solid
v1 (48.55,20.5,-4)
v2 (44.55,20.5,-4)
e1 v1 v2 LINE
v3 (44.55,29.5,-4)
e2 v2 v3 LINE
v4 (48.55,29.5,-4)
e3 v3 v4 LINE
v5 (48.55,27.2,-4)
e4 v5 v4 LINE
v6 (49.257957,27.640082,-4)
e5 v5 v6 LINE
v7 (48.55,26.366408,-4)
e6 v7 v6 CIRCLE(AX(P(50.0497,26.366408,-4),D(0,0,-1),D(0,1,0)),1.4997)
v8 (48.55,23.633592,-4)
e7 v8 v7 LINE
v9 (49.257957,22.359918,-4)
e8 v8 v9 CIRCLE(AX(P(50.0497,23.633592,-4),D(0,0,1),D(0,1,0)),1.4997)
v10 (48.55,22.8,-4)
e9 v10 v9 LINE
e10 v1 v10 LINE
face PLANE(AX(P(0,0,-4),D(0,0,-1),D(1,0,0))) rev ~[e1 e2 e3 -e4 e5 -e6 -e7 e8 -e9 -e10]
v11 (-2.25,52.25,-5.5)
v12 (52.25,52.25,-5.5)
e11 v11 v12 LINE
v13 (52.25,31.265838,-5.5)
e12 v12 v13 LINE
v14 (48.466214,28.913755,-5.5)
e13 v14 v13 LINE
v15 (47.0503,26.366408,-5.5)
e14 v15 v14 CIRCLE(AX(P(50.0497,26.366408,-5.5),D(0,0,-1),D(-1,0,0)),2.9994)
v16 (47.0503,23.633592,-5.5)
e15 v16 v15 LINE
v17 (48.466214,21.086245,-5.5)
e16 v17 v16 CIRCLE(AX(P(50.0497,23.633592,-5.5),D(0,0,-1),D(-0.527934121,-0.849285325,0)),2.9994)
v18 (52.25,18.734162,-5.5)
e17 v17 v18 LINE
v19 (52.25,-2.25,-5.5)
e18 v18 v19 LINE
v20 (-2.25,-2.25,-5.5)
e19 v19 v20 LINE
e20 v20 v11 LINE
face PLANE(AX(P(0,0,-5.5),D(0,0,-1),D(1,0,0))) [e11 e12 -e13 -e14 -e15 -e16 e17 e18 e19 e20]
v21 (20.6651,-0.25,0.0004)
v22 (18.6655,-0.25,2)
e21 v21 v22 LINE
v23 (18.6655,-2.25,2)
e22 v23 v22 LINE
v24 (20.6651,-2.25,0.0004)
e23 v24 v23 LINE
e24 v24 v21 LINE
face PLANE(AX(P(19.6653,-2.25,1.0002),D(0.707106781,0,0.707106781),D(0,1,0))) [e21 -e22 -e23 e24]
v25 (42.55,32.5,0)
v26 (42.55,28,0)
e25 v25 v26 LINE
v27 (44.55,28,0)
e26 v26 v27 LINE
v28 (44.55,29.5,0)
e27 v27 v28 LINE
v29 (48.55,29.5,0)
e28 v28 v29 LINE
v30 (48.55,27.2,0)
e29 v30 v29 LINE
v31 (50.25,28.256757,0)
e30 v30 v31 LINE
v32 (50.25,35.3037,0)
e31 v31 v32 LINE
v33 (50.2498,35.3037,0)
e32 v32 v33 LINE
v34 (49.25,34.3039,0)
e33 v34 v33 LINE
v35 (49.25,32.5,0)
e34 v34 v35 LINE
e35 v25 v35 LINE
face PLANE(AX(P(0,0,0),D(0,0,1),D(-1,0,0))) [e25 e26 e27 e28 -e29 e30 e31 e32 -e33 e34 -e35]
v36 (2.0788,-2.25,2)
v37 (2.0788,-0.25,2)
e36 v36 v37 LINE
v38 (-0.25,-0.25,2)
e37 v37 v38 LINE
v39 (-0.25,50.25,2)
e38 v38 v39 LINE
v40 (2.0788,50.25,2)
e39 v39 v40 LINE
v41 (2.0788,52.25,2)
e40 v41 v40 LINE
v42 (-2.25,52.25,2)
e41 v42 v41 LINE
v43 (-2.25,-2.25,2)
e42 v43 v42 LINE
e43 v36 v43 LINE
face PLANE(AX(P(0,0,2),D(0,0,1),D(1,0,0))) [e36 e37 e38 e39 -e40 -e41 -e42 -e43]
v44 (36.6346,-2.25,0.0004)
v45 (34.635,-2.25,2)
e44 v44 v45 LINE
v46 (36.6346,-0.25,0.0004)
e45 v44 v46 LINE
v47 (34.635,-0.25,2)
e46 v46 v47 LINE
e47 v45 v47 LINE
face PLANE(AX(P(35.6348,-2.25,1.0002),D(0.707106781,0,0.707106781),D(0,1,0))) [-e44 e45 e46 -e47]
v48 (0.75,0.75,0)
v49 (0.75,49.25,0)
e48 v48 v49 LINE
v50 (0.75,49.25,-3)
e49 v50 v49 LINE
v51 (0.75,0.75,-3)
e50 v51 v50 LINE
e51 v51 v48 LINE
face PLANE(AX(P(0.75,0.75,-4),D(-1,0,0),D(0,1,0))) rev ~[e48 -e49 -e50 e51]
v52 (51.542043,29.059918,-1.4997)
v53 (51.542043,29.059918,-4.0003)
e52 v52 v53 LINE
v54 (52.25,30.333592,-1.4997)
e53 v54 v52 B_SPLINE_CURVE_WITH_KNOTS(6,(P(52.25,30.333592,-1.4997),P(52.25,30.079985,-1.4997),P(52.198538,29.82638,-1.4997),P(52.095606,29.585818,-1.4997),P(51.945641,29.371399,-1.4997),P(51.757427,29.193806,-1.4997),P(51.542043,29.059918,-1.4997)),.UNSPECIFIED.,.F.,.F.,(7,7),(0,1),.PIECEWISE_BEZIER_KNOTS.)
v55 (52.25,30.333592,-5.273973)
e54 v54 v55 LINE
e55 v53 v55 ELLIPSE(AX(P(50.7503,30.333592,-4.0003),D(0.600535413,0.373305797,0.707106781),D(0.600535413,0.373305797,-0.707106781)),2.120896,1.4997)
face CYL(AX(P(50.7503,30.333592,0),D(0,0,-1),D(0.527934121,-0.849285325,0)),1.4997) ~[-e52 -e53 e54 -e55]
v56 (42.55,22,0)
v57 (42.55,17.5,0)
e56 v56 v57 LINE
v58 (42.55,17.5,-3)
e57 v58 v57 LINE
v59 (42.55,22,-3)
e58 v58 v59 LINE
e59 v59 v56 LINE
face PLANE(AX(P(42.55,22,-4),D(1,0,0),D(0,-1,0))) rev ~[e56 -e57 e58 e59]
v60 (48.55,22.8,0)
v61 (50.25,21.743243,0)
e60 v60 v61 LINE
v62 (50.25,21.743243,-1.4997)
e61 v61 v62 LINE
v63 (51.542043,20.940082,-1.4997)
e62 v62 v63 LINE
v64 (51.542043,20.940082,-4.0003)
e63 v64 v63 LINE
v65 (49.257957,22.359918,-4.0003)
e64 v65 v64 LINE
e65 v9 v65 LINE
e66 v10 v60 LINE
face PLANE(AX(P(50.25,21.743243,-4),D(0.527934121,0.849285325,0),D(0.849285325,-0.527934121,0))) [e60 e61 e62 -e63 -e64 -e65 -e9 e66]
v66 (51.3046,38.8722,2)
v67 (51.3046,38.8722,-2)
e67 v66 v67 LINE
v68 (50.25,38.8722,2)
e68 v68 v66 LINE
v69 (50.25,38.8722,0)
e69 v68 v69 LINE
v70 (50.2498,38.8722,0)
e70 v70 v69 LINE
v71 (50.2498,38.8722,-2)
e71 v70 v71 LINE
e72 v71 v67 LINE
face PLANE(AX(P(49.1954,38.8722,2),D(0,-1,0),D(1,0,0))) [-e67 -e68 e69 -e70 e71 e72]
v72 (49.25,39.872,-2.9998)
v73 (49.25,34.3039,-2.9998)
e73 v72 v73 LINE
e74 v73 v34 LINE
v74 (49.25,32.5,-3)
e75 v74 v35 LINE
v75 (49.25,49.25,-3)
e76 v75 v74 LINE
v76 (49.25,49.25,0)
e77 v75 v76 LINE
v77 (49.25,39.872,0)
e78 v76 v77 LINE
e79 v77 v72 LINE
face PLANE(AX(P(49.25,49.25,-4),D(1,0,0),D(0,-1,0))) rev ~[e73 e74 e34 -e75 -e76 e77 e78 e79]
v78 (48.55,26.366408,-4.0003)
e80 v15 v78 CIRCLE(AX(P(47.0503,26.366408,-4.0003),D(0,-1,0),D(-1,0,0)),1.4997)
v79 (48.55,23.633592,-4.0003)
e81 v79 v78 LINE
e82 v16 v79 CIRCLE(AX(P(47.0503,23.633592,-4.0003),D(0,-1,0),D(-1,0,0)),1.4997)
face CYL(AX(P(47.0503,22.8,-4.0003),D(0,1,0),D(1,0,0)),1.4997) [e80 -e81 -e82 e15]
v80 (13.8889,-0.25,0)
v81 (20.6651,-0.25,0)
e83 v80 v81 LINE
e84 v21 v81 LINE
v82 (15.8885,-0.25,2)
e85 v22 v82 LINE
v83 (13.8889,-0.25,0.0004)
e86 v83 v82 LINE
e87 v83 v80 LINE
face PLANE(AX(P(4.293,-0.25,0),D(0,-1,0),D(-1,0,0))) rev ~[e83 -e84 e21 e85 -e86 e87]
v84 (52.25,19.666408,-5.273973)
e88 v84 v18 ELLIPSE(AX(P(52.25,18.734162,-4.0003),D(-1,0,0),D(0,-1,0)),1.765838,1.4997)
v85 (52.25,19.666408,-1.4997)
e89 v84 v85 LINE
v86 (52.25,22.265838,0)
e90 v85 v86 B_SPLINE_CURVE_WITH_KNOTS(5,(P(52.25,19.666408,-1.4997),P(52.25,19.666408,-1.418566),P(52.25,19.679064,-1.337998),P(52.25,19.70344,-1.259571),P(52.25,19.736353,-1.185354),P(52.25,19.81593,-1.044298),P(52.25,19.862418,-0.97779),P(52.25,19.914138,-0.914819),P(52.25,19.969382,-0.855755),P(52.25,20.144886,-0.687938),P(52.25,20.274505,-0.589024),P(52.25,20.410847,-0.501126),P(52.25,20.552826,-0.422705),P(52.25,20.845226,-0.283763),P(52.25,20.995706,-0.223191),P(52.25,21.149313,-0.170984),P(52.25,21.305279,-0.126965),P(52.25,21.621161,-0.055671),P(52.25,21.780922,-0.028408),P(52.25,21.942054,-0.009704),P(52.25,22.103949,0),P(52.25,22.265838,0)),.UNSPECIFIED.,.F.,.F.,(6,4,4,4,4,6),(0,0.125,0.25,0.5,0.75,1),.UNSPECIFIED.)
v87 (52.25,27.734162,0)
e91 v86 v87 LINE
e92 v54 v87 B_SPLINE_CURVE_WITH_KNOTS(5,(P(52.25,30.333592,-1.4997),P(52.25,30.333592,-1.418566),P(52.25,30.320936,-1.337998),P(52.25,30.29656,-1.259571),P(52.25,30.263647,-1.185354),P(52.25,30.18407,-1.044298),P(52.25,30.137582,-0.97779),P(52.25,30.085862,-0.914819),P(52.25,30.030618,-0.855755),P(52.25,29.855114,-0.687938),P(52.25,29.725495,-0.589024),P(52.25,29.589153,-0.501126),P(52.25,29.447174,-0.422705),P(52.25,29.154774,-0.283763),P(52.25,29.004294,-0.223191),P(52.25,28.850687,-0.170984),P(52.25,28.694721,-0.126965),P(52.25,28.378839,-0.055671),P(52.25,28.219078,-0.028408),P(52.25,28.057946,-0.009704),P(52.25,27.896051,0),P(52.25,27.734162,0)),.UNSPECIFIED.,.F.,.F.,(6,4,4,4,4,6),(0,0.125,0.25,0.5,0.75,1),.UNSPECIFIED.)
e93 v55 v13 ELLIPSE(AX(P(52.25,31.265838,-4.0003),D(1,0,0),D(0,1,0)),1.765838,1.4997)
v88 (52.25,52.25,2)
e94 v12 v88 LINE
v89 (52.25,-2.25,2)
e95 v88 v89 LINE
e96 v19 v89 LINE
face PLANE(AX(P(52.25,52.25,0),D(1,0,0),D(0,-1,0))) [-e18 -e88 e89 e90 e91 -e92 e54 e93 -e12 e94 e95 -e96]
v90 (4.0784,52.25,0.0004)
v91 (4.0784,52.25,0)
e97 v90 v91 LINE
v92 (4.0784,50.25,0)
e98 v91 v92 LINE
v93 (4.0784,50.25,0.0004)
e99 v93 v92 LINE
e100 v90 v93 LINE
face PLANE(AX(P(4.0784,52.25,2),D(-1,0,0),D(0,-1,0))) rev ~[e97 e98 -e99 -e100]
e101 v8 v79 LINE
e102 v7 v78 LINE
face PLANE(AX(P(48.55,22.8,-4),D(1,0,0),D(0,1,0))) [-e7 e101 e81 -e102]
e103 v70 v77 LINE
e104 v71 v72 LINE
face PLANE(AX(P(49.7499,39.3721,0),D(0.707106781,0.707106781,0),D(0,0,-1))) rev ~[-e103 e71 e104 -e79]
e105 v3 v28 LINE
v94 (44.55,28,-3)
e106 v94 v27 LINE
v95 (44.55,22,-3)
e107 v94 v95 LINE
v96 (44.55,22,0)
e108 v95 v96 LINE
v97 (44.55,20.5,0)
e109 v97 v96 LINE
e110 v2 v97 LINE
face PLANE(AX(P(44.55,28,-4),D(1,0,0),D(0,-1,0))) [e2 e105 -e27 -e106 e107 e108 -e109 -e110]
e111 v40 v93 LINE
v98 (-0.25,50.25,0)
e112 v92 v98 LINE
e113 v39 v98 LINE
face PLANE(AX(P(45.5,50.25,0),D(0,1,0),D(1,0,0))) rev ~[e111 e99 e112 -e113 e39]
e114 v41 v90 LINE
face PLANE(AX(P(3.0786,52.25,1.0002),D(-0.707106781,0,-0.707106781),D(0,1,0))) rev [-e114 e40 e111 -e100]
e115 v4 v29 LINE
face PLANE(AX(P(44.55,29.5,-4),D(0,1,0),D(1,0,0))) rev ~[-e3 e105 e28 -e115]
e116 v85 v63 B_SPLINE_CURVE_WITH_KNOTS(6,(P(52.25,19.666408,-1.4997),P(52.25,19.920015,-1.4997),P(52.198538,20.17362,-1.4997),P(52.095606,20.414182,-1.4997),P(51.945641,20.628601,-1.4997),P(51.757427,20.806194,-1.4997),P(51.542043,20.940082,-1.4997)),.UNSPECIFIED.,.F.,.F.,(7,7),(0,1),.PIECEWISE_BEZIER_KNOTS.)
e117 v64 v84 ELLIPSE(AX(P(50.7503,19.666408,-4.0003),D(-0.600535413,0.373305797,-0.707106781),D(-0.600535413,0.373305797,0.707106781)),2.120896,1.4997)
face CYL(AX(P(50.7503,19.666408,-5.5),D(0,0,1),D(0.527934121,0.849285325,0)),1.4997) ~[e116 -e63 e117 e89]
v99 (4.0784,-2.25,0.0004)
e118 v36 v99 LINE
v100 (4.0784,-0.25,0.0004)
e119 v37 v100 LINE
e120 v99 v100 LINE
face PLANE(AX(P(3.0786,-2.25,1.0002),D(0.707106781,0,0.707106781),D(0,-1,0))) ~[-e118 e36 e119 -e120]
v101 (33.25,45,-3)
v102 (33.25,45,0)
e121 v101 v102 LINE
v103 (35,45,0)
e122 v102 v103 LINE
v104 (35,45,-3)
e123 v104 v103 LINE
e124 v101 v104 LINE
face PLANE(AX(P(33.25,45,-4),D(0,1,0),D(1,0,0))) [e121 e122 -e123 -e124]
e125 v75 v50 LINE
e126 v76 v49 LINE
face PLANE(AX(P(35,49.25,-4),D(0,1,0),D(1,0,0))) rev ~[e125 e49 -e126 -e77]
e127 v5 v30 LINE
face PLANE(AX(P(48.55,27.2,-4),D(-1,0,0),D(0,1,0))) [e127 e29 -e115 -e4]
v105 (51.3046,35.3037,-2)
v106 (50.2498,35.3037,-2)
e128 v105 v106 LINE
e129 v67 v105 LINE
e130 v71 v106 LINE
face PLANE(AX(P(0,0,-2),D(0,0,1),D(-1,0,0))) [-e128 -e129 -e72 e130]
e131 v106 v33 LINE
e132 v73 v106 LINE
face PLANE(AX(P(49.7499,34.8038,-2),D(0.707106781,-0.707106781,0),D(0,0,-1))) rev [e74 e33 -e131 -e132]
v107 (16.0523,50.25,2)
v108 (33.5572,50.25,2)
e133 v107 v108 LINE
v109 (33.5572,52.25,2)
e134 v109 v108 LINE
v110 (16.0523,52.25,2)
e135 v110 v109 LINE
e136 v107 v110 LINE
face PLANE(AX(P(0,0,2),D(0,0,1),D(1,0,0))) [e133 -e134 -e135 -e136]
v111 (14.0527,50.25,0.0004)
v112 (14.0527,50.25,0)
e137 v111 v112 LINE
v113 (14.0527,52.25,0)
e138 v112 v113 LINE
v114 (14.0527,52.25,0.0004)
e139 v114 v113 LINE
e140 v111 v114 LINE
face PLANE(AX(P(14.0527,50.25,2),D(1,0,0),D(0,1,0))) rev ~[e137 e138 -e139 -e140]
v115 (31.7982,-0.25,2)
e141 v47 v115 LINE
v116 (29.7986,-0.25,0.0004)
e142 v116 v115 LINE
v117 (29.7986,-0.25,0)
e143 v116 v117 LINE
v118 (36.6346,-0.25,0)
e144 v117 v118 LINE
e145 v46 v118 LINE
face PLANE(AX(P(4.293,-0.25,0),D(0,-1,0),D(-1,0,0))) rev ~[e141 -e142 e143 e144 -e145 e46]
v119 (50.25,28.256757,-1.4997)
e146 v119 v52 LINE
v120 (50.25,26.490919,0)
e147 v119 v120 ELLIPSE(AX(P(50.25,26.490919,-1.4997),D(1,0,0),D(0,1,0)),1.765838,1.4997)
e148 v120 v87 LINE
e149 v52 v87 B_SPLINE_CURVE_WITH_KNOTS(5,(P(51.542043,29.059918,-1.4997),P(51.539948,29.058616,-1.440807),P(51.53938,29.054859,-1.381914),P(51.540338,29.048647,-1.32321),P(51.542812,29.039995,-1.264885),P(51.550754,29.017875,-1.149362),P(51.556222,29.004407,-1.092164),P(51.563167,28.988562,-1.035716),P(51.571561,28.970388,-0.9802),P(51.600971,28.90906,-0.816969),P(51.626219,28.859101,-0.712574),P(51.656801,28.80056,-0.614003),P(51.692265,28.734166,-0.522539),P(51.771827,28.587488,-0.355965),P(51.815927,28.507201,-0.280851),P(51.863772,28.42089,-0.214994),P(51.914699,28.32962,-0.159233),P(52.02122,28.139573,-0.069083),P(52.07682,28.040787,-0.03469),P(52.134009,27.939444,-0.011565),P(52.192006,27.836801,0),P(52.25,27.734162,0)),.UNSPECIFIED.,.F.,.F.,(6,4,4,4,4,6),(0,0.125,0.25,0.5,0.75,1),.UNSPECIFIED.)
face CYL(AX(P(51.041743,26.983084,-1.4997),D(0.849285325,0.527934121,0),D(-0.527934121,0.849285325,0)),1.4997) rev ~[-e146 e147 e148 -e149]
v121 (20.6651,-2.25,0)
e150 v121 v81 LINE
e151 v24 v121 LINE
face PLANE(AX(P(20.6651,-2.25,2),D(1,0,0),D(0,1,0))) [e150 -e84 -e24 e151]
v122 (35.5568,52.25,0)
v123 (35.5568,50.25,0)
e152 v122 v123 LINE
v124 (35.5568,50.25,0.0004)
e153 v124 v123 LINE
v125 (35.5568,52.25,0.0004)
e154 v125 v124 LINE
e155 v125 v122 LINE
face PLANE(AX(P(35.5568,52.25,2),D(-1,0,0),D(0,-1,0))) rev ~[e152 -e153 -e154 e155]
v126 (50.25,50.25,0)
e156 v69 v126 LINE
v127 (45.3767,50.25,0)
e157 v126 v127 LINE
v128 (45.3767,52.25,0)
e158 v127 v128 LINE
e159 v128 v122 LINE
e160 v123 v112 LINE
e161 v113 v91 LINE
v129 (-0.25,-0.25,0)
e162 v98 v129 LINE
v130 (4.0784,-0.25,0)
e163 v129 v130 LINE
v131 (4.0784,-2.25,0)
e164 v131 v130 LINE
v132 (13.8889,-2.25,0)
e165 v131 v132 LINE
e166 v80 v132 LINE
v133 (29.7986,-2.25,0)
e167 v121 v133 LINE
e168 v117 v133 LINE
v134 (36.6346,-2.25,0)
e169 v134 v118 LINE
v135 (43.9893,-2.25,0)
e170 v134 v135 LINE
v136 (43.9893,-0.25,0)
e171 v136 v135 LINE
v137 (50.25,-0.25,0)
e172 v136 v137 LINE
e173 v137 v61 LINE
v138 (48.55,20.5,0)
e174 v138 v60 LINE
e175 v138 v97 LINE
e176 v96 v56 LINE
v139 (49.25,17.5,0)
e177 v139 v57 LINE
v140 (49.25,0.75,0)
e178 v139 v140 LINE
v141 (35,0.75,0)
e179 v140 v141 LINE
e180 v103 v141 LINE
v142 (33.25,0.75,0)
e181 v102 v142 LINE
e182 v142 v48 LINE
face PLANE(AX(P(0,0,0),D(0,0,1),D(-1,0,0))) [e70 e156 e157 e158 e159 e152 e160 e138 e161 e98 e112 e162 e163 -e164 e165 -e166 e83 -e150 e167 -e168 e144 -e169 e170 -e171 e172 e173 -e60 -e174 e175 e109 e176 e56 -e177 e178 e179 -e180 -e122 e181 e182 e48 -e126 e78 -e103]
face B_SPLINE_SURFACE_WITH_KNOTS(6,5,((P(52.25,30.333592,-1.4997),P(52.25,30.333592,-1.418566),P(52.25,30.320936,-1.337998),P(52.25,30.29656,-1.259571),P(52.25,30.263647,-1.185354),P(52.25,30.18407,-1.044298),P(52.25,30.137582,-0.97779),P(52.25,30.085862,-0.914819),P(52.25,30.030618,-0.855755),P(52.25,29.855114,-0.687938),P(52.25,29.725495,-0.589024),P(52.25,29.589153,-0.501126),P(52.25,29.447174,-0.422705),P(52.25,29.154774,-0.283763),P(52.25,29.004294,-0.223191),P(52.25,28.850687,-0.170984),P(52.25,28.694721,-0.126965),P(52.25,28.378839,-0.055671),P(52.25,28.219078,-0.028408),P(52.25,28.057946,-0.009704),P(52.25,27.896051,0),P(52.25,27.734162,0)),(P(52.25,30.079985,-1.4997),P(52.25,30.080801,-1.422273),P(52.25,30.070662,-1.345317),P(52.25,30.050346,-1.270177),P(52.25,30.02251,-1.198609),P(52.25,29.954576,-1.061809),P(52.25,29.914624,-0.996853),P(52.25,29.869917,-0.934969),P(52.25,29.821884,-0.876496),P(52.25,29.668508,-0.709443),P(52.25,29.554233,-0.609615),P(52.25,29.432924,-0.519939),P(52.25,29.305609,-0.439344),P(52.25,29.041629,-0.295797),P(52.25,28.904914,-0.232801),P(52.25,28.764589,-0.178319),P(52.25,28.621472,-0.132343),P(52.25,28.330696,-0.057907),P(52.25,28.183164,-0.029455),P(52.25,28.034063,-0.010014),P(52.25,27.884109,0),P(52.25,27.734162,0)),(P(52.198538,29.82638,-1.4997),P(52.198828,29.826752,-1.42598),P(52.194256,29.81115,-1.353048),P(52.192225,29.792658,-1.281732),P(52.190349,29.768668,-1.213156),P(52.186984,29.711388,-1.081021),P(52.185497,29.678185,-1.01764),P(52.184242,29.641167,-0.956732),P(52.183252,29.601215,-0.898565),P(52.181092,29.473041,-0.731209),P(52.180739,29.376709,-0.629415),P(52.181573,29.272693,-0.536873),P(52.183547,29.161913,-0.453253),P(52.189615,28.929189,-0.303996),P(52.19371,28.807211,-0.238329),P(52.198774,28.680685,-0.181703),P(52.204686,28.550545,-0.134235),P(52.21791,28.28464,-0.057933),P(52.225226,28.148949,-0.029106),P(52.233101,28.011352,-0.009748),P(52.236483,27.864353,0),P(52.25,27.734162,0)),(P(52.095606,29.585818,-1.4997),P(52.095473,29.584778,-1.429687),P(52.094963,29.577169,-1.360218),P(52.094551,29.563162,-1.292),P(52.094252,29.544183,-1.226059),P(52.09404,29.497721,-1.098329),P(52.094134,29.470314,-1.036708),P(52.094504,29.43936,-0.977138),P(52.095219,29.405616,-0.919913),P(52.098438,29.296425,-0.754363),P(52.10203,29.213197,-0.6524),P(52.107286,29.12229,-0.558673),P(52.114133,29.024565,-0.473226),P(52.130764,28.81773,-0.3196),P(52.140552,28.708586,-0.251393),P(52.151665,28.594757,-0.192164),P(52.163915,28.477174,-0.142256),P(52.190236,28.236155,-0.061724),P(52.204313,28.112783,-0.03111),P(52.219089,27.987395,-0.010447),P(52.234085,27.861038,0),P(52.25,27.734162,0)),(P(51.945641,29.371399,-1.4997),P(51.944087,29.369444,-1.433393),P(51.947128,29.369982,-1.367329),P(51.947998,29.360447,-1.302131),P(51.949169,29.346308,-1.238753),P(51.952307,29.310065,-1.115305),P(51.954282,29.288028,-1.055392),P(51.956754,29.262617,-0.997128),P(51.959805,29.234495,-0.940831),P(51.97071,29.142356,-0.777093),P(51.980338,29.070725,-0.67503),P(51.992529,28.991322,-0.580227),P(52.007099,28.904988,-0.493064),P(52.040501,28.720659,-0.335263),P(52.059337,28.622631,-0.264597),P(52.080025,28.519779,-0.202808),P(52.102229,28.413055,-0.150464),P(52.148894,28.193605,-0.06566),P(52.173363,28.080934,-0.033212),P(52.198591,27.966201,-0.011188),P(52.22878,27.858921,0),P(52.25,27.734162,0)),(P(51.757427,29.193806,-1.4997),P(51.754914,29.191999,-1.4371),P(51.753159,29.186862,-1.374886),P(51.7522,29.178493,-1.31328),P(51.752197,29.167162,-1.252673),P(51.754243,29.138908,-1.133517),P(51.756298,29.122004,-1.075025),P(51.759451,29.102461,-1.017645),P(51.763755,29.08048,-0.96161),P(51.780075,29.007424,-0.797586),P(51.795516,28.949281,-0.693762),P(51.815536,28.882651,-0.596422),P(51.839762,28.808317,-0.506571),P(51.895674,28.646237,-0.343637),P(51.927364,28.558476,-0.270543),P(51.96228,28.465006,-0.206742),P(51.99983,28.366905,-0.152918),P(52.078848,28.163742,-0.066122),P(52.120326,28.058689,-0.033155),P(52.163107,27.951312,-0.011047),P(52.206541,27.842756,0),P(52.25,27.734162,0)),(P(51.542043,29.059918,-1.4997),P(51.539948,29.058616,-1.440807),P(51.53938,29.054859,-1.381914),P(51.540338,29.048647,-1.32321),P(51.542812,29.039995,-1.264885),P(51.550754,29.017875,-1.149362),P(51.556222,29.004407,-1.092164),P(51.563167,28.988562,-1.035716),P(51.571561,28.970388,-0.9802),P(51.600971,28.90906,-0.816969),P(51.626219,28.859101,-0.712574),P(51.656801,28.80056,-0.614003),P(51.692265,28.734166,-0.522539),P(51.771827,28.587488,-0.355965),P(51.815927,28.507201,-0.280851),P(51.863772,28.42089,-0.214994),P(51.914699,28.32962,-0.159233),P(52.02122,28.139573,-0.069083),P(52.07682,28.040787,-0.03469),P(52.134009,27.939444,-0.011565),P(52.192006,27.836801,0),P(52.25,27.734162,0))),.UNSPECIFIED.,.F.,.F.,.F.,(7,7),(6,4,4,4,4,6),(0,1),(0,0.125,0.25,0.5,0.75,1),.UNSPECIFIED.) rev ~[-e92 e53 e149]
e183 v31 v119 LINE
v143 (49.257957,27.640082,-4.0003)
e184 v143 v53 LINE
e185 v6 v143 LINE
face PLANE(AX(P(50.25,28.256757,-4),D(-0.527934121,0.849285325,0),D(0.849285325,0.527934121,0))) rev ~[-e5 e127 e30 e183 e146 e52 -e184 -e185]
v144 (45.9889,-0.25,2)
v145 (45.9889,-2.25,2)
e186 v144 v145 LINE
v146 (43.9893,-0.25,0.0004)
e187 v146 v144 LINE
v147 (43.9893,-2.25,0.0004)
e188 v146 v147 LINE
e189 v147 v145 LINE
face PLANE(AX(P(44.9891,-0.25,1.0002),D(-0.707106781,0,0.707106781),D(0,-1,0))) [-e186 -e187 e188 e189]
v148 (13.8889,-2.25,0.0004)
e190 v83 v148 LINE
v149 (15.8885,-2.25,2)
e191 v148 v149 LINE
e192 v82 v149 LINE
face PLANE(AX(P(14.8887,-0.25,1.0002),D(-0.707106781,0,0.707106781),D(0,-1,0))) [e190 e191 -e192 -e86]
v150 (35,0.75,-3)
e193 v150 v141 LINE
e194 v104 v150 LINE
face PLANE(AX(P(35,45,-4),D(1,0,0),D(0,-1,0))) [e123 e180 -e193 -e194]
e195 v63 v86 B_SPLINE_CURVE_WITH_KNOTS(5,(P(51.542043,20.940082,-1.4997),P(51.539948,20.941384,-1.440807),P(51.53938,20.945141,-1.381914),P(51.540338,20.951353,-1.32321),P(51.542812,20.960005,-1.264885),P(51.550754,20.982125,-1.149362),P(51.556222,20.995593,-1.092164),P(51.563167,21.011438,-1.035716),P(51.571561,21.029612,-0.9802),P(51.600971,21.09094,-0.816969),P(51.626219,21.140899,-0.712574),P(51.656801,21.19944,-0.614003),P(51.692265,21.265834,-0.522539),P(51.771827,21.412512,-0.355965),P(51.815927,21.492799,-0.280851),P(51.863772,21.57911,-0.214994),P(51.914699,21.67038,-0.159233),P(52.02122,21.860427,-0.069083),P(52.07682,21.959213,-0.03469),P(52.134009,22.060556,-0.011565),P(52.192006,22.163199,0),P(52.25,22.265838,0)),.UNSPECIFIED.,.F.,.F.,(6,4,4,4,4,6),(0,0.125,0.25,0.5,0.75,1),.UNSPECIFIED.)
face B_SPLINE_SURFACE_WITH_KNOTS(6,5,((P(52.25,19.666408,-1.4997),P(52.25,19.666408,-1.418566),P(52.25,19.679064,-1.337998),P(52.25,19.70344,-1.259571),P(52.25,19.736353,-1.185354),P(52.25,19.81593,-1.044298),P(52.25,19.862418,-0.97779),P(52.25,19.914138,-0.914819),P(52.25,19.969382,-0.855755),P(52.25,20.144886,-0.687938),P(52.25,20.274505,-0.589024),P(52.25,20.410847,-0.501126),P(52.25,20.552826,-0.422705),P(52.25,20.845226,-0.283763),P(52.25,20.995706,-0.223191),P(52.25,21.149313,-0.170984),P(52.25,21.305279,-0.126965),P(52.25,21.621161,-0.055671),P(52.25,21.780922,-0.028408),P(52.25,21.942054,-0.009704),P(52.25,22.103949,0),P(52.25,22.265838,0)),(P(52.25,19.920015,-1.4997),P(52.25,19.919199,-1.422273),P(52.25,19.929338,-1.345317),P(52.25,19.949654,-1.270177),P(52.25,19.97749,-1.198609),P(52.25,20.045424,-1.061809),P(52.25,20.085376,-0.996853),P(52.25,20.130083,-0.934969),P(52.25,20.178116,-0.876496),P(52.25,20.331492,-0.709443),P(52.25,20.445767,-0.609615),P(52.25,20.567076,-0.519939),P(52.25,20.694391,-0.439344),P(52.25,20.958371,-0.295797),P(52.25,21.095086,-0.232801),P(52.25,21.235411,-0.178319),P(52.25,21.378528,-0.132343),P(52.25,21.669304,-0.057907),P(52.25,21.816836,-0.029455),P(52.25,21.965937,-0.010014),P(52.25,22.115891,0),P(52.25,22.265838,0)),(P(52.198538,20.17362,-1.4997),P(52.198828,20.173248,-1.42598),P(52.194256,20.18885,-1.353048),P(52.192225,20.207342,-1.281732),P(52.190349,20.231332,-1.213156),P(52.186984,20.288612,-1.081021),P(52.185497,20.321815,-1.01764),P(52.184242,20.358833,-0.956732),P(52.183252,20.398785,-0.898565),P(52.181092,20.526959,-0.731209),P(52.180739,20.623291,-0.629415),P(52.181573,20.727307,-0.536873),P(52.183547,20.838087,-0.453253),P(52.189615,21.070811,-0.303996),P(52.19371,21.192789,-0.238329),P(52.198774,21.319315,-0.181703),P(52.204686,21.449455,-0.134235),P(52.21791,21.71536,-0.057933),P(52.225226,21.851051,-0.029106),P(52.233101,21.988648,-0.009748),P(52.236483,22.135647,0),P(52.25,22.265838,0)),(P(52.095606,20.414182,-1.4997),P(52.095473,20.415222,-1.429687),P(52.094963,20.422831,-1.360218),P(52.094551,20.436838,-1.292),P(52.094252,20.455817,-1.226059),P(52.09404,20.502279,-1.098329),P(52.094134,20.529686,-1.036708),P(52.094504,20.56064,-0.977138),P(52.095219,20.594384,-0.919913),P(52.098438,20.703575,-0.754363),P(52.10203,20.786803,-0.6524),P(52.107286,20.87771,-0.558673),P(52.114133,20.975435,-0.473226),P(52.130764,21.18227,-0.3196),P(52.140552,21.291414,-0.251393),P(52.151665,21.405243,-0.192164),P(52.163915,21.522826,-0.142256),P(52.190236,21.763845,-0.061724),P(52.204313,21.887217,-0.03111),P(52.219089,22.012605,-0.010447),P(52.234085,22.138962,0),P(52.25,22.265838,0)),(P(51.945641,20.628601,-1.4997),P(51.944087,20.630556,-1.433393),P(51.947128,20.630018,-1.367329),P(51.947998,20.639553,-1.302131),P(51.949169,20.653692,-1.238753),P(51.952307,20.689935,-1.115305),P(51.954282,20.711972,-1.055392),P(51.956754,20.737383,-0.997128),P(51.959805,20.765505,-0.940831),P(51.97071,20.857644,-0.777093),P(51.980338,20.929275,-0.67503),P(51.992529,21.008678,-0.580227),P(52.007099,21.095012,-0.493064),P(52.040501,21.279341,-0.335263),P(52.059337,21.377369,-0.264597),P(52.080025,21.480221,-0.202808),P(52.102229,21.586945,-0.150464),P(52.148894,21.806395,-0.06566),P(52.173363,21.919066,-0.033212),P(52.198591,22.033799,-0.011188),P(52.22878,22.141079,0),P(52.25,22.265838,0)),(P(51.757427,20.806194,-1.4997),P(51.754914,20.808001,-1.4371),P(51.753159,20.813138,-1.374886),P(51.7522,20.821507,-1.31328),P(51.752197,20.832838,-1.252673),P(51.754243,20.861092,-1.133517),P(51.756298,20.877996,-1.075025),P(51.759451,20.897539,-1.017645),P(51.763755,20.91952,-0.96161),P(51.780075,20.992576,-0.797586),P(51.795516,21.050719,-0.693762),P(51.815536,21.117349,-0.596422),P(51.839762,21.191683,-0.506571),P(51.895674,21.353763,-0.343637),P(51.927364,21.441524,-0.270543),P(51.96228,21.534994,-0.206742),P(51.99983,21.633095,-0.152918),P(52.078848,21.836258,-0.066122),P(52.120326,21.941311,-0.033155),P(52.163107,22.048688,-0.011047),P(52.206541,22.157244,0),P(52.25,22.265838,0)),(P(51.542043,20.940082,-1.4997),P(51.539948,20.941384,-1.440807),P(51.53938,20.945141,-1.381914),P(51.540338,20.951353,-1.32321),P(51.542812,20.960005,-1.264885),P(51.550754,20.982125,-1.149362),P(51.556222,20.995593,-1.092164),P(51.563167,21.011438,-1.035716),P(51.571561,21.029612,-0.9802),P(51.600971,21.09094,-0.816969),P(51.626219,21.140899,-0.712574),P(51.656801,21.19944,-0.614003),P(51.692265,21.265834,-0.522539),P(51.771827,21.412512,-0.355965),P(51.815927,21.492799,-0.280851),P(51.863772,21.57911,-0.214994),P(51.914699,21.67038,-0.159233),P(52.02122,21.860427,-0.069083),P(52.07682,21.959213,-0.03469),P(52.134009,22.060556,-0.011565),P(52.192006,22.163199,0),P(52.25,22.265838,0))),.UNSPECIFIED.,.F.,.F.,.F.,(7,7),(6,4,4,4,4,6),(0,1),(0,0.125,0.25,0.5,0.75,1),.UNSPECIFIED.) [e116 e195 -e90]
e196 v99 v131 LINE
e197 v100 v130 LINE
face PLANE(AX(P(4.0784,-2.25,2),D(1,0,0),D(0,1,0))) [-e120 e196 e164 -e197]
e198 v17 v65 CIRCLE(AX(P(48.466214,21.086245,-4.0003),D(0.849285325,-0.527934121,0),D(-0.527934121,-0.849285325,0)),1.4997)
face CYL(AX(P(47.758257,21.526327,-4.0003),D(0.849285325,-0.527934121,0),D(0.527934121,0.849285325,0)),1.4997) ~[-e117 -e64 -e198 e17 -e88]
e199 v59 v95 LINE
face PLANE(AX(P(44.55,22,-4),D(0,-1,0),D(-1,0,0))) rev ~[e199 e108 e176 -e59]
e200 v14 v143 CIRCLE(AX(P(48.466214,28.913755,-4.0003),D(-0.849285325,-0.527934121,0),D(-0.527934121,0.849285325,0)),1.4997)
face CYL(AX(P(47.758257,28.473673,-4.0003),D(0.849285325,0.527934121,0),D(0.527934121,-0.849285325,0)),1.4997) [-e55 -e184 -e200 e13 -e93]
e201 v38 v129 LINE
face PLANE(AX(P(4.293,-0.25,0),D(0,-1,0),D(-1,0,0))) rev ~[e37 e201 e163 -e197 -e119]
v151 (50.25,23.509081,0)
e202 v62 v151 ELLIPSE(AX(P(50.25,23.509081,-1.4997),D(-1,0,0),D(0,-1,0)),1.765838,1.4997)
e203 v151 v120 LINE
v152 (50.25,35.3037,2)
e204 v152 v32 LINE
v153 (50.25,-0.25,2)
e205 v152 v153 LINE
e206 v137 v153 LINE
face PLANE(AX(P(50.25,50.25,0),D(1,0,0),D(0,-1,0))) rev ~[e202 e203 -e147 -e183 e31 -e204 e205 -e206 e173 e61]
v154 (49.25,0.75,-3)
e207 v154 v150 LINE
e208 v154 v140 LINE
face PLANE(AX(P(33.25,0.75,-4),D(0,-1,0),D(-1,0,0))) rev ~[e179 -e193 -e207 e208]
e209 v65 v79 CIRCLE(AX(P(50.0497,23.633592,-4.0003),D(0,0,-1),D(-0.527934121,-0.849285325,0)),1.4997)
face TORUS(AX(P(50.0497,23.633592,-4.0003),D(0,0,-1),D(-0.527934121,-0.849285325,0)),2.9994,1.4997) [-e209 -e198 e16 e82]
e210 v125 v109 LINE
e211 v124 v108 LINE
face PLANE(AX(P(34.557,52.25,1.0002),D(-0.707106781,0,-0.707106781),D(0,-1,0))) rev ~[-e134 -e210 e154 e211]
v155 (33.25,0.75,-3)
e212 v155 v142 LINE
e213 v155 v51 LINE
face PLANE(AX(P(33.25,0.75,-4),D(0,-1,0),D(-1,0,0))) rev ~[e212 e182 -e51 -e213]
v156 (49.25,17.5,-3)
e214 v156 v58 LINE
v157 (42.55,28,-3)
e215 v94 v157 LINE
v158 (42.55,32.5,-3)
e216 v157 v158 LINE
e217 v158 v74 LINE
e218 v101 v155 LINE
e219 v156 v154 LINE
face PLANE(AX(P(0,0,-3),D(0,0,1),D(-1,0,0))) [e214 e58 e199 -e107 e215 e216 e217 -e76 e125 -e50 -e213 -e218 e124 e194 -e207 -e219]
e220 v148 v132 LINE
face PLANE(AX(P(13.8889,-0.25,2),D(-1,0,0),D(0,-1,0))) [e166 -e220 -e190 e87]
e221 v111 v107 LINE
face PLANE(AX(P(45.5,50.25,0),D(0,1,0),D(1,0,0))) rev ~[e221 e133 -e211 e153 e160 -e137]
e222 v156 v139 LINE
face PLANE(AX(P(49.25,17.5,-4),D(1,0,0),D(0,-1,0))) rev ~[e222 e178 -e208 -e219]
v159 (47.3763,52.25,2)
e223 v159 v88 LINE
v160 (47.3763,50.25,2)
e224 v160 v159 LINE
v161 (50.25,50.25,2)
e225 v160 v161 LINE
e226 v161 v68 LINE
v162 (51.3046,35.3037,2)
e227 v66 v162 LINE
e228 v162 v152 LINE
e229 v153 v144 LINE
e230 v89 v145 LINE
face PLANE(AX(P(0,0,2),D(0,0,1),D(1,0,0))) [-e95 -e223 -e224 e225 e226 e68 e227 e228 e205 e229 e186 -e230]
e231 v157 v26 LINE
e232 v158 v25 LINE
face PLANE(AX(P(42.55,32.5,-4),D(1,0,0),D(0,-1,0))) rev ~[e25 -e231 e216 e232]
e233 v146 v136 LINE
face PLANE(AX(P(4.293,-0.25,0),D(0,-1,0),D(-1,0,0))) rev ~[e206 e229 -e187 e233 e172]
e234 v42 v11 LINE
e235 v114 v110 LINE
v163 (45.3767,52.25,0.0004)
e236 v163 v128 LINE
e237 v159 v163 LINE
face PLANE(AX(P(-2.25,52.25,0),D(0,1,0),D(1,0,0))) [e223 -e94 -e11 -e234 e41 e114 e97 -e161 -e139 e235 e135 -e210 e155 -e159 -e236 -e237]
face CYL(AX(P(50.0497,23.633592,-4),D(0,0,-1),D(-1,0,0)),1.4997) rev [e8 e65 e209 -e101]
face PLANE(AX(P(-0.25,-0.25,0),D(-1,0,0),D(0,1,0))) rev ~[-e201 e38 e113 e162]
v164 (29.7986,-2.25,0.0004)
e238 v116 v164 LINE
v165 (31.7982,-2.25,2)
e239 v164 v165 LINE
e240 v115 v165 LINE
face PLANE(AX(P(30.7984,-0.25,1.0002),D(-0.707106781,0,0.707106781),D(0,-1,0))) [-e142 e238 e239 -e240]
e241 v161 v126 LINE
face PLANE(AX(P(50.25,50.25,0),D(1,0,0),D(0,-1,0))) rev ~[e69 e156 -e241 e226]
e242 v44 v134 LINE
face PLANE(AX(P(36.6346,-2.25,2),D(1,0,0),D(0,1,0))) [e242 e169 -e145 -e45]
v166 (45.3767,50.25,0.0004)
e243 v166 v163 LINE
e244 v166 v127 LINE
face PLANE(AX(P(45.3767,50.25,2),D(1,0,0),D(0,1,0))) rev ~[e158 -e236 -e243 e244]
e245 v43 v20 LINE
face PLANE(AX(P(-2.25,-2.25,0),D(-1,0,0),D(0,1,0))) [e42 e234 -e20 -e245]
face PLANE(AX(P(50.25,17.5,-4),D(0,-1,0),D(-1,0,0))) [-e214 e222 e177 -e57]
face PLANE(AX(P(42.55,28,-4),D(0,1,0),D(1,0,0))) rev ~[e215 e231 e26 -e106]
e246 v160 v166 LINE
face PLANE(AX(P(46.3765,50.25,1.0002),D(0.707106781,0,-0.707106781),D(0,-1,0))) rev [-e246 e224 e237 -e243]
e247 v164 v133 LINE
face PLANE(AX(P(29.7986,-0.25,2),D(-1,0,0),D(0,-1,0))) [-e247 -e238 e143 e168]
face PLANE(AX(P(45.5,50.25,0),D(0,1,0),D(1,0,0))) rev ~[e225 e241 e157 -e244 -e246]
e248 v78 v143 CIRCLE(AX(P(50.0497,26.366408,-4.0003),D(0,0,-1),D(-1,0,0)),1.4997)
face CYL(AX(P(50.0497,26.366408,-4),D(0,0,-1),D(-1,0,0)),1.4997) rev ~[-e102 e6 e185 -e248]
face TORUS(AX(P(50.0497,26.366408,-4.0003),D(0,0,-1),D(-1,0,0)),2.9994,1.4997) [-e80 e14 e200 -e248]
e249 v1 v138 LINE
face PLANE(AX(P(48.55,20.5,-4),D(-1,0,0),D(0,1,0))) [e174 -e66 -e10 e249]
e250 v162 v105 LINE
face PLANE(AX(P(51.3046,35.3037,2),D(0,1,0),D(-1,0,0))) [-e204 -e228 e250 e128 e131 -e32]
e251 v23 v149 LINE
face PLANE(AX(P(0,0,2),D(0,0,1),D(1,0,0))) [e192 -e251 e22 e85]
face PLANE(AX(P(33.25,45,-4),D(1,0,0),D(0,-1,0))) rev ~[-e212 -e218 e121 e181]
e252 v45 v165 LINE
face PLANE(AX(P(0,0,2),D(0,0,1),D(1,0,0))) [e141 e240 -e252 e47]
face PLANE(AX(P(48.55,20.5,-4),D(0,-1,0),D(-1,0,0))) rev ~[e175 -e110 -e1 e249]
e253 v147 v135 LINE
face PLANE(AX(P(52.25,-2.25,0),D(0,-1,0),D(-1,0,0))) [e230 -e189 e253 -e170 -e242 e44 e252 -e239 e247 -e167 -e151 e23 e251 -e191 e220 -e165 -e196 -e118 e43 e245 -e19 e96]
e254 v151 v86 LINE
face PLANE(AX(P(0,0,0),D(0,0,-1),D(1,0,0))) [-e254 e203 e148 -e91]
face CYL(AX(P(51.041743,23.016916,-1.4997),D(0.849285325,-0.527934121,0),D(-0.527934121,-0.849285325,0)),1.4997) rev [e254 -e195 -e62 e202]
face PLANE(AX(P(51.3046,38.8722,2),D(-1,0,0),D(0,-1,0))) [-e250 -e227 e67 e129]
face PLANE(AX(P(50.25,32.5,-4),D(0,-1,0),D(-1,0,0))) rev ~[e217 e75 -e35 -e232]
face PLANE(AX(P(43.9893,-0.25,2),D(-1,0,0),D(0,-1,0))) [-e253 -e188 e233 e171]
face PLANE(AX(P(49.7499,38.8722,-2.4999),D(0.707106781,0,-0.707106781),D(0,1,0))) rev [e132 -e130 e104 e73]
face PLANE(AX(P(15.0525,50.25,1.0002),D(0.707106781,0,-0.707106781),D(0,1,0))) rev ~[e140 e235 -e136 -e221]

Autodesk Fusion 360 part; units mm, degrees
sketch "Sketch1" plane through (0, 0, 0) normal (0, 0, 1) x (1, 0, 0)
  line L0 (0, 0) -> (50, 0)
  line L1 (50, 0) -> (50, 50)
  line L2 (50, 50) -> (0, 50)
  line L3 (0, 50) -> (0, 0)
  dimension "d1" = 50
  dimension "d2" = 50
sketch "Sketch2" plane through (0, 0, 0) normal (0, 0, 1) x (1, 0, 0)
  line L0 (0, 50) -> (50, 0)
  line L1 (50.25, -0.25) -> (-0.25, -0.25)
  line L2 (-0.25, -0.25) -> (-0.25, 50.25)
  line L3 (-0.25, 50.25) -> (50.25, 50.25)
  line L4 (50.25, 50.25) -> (50.25, -0.25)
  line L5 (50.25, -0.25) -> (-0.25, 50.25) construction
  line L6 (-0.25, -0.25) -> (50.25, 50.25) construction
  line L7 (52.25, -2.25) -> (-2.25, -2.25)
  line L8 (-2.25, -2.25) -> (-2.25, 52.25)
  line L9 (-2.25, 52.25) -> (52.25, 52.25)
  line L10 (52.25, 52.25) -> (52.25, -2.25)
  line L11 (52.25, -2.25) -> (-2.25, 52.25) construction
  line L12 (-2.25, -2.25) -> (52.25, 52.25) construction
  line L13 (4.293, -0.25) -> (13.893, -0.25)
  line L14 (20.694, -0.25) -> (29.894, -0.25)
  line L15 (36.6037, -0.25) -> (44, -0.25)
  line L16 (4.2342, 50.25) -> (13.9, 50.25)
  line L17 (35.6828, 50.25) -> (45.5, 50.25)
  line L18 (18.0871, 50.25) -> (31.7, 50.25)
  point P0 (25, 25)
  point P1 (25, 25)
  dimension "d3" = 50.5
  dimension "d4" = 50.5
  dimension "d5" = 54.5
  dimension "d6" = 54.5
  dimension "d7" = 9.6
  dimension "d8" = 9.2
extrude "Extrude1" add sketch "Sketch2" along normal blind 2
extrude "Extrude2" add 1 faces at (23.5647, -1.5833, 0) along direction (0, 0, -1) blind 4
sketch "Sketch3" plane through (0, 0, -4) normal (0, 0, -1) x (1, 0, 0)
  line L0 (-0.25, 0.25) -> (50.25, 0.25)
  line L1 (50.25, 0.25) -> (50.25, -50.25)
  line L2 (50.25, -50.25) -> (-0.25, -50.25)
  line L3 (-0.25, -50.25) -> (-0.25, 0.25)
  line L4 (-2.25, -52.25) -> (52.25, -52.25)
  line L5 (52.25, -52.25) -> (52.25, 2.25)
  line L6 (52.25, 2.25) -> (-2.25, 2.25)
  line L7 (-2.25, 2.25) -> (-2.25, -52.25)
  line L8 (52.25, 2.25) -> (-2.25, 2.25)
  line L9 (-2.25, 2.25) -> (-2.25, -52.25)
  line L10 (-2.25, -52.25) -> (52.25, -52.25)
  line L11 (52.25, -52.25) -> (52.25, 2.25)
  line L12 (52.25, -25) -> (52.25, -29.5)
  line L13 (52.25, -29.5) -> (52.25, -20.5)
  line L14 (52.25, -20.5) -> (44.55, -20.5)
  line L15 (44.55, -20.5) -> (44.55, -29.5)
  line L16 (44.55, -29.5) -> (52.25, -29.5)
  line L17 (52.25, -29.5) -> (52.25, -20.5)
  line L18 (44.55, -20.5) -> (48.55, -20.5)
  line L19 (48.55, -20.5) -> (48.55, -29.5)
  line L20 (48.55, -29.5) -> (44.55, -29.5)
  line L21 (44.55, -29.5) -> (44.55, -20.5)
  line L22 (48.55, -20.5) -> (48.55, -22.8)
  line L23 (48.55, -22.8) -> (52.25, -20.5)
  line L24 (48.55, -29.5) -> (48.55, -27.2)
  line L25 (48.55, -27.2) -> (52.25, -29.5)
  line L26 (44.55, -29.5) -> (50.25, -29.5)
  line L27 (50.25, -29.5) -> (50.25, -32.5)
  line L28 (50.25, -32.5) -> (44.55, -32.5)
  line L29 (44.55, -32.5) -> (44.55, -29.5)
  line L30 (44.55, -20.5) -> (50.25, -20.5)
  line L31 (50.25, -20.5) -> (50.25, -17.5)
  line L32 (50.25, -17.5) -> (44.55, -17.5)
  line L33 (44.55, -17.5) -> (44.55, -20.5)
  line L34 (44.55, -25) -> (44.55, -22)
  line L35 (44.55, -25) -> (44.55, -28)
  line L36 (44.55, -32.5) -> (42.55, -32.5)
  line L37 (42.55, -32.5) -> (42.55, -28)
  line L38 (42.55, -28) -> (44.55, -28)
  line L39 (44.55, -28) -> (44.55, -32.5)
  line L40 (44.55, -22) -> (42.55, -22)
  line L41 (42.55, -22) -> (42.55, -17.5)
  line L42 (42.55, -17.5) -> (44.55, -17.5)
  line L43 (44.55, -17.5) -> (44.55, -22)
  dimension "d13" = 4.5
  dimension "d14" = 7.7
  dimension "d15" = 4
  dimension "d16" = 2.3
  dimension "d17" = 2.3
  dimension "d22" = 3
  dimension "d23" = 3
  dimension "d24" = 3
  dimension "d25" = 3
  dimension "d26" = 2
  dimension "d27" = 2
extrude "Extrude3" cut sketch "Sketch3" against normal blind 4 contours L1 L5 L11 L12 L13 L17 L23 L25
extrude "Extrude4" add sketch "Sketch3" along normal blind 1.5 contours L0 L1 L2 L3 L4 L5 L6 L7 L8 L9 L10 L11 L14 L16 L27 L31 | L0 L1 L2 L3 L15 L21 L28 L32 L34 L35 L36 L37 L38 L40 L41 L42 | L1 L14 L18 L30 L31 L32 L33 L43 | L1 L14 L23 | L1 L14 L19 L22 L23 L30 | L15 L21 L33 L40 L41 L42 L43 | L1 L16 L20 L26 L27 L28 L29 L39 | L14 L15 L16 L18 L19 L20 L21 L22 L24 L26 L30 L34 L35 L39 L43 | L1 L16 L19 L24 L25 L26 | L1 L16 L25 | L15 L21 L29 L36 L37 L38 L39
extrude "Extrude5" add sketch "Sketch3" against normal blind 4 contours L1 L14 L18 L30 L31 L32 L33 L43 | L1 L14 L19 L22 L23 L30 | L15 L21 L33 L40 L41 L42 L43 | L1 L16 L20 L26 L27 L28 L29 L39 | L1 L16 L19 L24 L25 L26 | L15 L21 L29 L36 L37 L38 L39
sketch "Sketch4" plane through (0, 0, -4) normal (0, 0, 1) x (-1, 0, 0)
  line L0 (-50.25, -17.5) -> (-42.55, -17.5)
  line L1 (-42.55, -17.5) -> (-42.55, -22)
  line L2 (-42.55, -22) -> (-44.55, -22)
  line L3 (-44.55, -22) -> (-44.55, -20.5)
  line L4 (-44.55, -20.5) -> (-48.55, -20.5)
  line L5 (-48.55, -20.5) -> (-48.55, -22.8)
  line L6 (-48.55, -22.8) -> (-48.55, -27.2)
  line L7 (-48.55, -27.2) -> (-48.55, -29.5)
  line L8 (-48.55, -29.5) -> (-44.55, -29.5)
  line L9 (-44.55, -29.5) -> (-44.55, -28)
  line L10 (-44.55, -28) -> (-42.55, -28)
  line L11 (-42.55, -28) -> (-42.55, -32.5)
  line L12 (-42.55, -32.5) -> (-50.25, -32.5)
  line L13 (-50.25, -32.5) -> (-50.25, -50.25)
  line L14 (-50.25, -50.25) -> (0.25, -50.25)
  line L15 (0.25, -50.25) -> (0.25, 0.25)
  line L16 (0.25, 0.25) -> (-50.25, 0.25)
  line L17 (-50.25, 0.25) -> (-50.25, -17.5)
  line L18 (-49.25, -0.75) -> (-0.75, -0.75)
  line L19 (-0.75, -0.75) -> (-0.75, -49.25)
  line L20 (-0.75, -49.25) -> (-49.25, -49.25)
  line L21 (-49.25, -49.25) -> (-49.25, -0.75)
  line L22 (-49.25, -0.75) -> (-0.75, -49.25) construction
  line L23 (-0.75, -0.75) -> (-49.25, -49.25) construction
  line L24 (-0.75, -49.25) -> (-33.25, -49.25)
  line L25 (-33.25, -49.25) -> (-33.25, -0.75)
  line L26 (-33.25, -49.25) -> (-35, -49.25)
  line L27 (-35, -49.25) -> (-35, -0.75)
  line L28 (-33.25, -49.25) -> (-33.25, -45)
  line L29 (-33.25, -45) -> (-35, -45)
  line L30 (-42.55, -28) -> (-42.55, -22)
  line L31 (-44.55, -28) -> (-44.55, -22)
  point P0 (-25, -25)
  dimension "d30" = 48.5
  dimension "d31" = 48.5
  dimension "d34" = 32.5
extrude "Extrude6" add sketch "Sketch4" along normal blind 4 contours L0 L12 L13 L14 L15 L16 L17 L18 L19 L20 L21 L24 L26
extrude "Extrude7" add sketch "Sketch4" along normal blind 4 contours L18 L25 L27 L29
extrude "Extrude8" add sketch "Sketch4" along normal blind 1 contours L0 L1 L11 L12 L18 L20 L21 L27 L30 | L20 L25 L26 L27 L28 L29 | L18 L19 L20 L24 L25 L28
extrude "Extrude9" add sketch "Sketch4" along normal blind 1 contours L2 L10 L30 L31
fillet "Fillet1" radius 1.5 9 edges at (52.25, 20.5, -2.75) (48.55, 22.8, -4.75) (48.55, 27.2, -4.75) (52.25, 29.5, -2.75) (51.25, 28.8784, 0) (51.25, 21.1216, 0) (50.4, 21.65, -5.5) (48.55, 25, -5.5) (50.4, 28.35, -5.5)
sketch "Sketch5" plane through (0, 0, 2) normal (0, 0, 1) x (-1, 0, 0)
  line L0 (-50.25, 0.25) -> (0.25, 0.25)
  line L1 (0.25, 0.25) -> (0.25, -50.25)
  line L2 (0.25, -50.25) -> (-50.25, -50.25)
  line L3 (-50.25, -50.25) -> (-50.25, 0.25)
  line L4 (-52.25, -52.25) -> (2.25, -52.25)
  line L5 (2.25, -52.25) -> (2.25, 2.25)
  line L6 (2.25, 2.25) -> (-52.25, 2.25)
  line L7 (-52.25, 2.25) -> (-52.25, -52.25)
  line L8 (-4.0784, 0.25) -> (-13.8889, 0.25)
  line L9 (-13.8889, 0.25) -> (-13.8889, 2.25)
  line L10 (-13.8889, 2.25) -> (-4.0784, 2.25)
  line L11 (-4.0784, 2.25) -> (-4.0784, 0.25)
  line L12 (-20.6651, 0.25) -> (-29.7986, 0.25)
  line L13 (-29.7986, 0.25) -> (-29.7986, 2.25)
  line L14 (-29.7986, 2.25) -> (-20.6651, 2.25)
  line L15 (-20.6651, 2.25) -> (-20.6651, 0.25)
  line L16 (-36.6346, 0.25) -> (-43.9893, 0.25)
  line L17 (-43.9893, 0.25) -> (-43.9893, 2.25)
  line L18 (-43.9893, 2.25) -> (-36.6346, 2.25)
  line L19 (-36.6346, 2.25) -> (-36.6346, 0.25)
  line L20 (-4.0784, -50.25) -> (-14.0527, -50.25)
  line L21 (-14.0527, -50.25) -> (-14.0527, -52.25)
  line L22 (-14.0527, -52.25) -> (-4.0784, -52.25)
  line L23 (-4.0784, -52.25) -> (-4.0784, -50.25)
  line L24 (-18.1744, -50.25) -> (-31.738, -50.25)
  line L25 (-31.738, -50.25) -> (-31.738, -52.25)
  line L26 (-31.738, -52.25) -> (-18.1744, -52.25)
  line L27 (-18.1744, -52.25) -> (-18.1744, -50.25)
  line L28 (-35.5568, -50.25) -> (-45.3767, -50.25)
  line L29 (-45.3767, -50.25) -> (-45.3767, -52.25)
  line L30 (-45.3767, -52.25) -> (-35.5568, -52.25)
  line L31 (-35.5568, -52.25) -> (-35.5568, -50.25)
extrude "Extrude10" cut sketch "Sketch5" against normal blind 2 contours L0 L6 L16 L17 L18 L19 | L2 L4 L28 L29 L30 L31 | L0 L6 L12 L13 L14 L15 | L0 L6 L8 L9 L10 L11 | L2 L4 L20 L21 L22 L23
chamfer "Chamfer1" distance 2 angle 45 1 edges at (4.0784, -1.25, 2)
chamfer "Chamfer2" distance 2 angle 45 5 edges at (13.8889, -1.25, 2) (20.6651, -1.25, 2) (29.7986, -1.25, 2) (36.6346, -1.25, 2) (43.9893, -1.25, 2)
chamfer "Chamfer3" distance 2 angle 45 4 edges at (45.3767, 51.25, 2) (35.5568, 51.25, 2) (14.0527, 51.25, 2) (4.0784, 51.25, 2)
sketch "Sketch6" plane through (0, 0, 2) normal (0, 0, 1) x (-1, 0, 0)
  line L0 (-47.3767, -52.25) -> (-47.3767, -50.25)
  line L1 (-47.3767, -50.25) -> (-50.25, -50.25)
  line L2 (-50.25, -50.25) -> (-50.25, 0.25)
  line L3 (-50.25, 0.25) -> (-45.9893, 0.25)
  line L4 (-45.9893, 0.25) -> (-45.9893, 2.25)
  line L5 (-45.9893, 2.25) -> (-52.25, 2.25)
  line L6 (-52.25, 2.25) -> (-52.25, -52.25)
  line L7 (-52.25, -52.25) -> (-47.3767, -52.25)
  line L8 (-51.3046, -35.3037) -> (-49.1954, -35.3037)
  line L9 (-49.1954, -35.3037) -> (-49.1954, -38.8722)
  line L10 (-49.1954, -38.8722) -> (-51.3046, -38.8722)
  line L11 (-51.3046, -38.8722) -> (-51.3046, -35.3037)
  line L12 (-51.3046, -35.3037) -> (-49.1954, -38.8722) construction
  line L13 (-49.1954, -35.3037) -> (-51.3046, -38.8722) construction
  point P0 (-50.25, -37.088)
extrude "Extrude11" cut sketch "Sketch6" against normal blind 4 contours L2 L8 L10 L11
extrude "Extrude12" cut sketch "Sketch6" against normal blind 4 contours L2 L8 L9 L10
chamfer "Chamfer4" distance 1 angle 45 3 edges at (49.25, 38.8722, -1) (49.25, 37.088, -2) (49.25, 35.3037, -1)
